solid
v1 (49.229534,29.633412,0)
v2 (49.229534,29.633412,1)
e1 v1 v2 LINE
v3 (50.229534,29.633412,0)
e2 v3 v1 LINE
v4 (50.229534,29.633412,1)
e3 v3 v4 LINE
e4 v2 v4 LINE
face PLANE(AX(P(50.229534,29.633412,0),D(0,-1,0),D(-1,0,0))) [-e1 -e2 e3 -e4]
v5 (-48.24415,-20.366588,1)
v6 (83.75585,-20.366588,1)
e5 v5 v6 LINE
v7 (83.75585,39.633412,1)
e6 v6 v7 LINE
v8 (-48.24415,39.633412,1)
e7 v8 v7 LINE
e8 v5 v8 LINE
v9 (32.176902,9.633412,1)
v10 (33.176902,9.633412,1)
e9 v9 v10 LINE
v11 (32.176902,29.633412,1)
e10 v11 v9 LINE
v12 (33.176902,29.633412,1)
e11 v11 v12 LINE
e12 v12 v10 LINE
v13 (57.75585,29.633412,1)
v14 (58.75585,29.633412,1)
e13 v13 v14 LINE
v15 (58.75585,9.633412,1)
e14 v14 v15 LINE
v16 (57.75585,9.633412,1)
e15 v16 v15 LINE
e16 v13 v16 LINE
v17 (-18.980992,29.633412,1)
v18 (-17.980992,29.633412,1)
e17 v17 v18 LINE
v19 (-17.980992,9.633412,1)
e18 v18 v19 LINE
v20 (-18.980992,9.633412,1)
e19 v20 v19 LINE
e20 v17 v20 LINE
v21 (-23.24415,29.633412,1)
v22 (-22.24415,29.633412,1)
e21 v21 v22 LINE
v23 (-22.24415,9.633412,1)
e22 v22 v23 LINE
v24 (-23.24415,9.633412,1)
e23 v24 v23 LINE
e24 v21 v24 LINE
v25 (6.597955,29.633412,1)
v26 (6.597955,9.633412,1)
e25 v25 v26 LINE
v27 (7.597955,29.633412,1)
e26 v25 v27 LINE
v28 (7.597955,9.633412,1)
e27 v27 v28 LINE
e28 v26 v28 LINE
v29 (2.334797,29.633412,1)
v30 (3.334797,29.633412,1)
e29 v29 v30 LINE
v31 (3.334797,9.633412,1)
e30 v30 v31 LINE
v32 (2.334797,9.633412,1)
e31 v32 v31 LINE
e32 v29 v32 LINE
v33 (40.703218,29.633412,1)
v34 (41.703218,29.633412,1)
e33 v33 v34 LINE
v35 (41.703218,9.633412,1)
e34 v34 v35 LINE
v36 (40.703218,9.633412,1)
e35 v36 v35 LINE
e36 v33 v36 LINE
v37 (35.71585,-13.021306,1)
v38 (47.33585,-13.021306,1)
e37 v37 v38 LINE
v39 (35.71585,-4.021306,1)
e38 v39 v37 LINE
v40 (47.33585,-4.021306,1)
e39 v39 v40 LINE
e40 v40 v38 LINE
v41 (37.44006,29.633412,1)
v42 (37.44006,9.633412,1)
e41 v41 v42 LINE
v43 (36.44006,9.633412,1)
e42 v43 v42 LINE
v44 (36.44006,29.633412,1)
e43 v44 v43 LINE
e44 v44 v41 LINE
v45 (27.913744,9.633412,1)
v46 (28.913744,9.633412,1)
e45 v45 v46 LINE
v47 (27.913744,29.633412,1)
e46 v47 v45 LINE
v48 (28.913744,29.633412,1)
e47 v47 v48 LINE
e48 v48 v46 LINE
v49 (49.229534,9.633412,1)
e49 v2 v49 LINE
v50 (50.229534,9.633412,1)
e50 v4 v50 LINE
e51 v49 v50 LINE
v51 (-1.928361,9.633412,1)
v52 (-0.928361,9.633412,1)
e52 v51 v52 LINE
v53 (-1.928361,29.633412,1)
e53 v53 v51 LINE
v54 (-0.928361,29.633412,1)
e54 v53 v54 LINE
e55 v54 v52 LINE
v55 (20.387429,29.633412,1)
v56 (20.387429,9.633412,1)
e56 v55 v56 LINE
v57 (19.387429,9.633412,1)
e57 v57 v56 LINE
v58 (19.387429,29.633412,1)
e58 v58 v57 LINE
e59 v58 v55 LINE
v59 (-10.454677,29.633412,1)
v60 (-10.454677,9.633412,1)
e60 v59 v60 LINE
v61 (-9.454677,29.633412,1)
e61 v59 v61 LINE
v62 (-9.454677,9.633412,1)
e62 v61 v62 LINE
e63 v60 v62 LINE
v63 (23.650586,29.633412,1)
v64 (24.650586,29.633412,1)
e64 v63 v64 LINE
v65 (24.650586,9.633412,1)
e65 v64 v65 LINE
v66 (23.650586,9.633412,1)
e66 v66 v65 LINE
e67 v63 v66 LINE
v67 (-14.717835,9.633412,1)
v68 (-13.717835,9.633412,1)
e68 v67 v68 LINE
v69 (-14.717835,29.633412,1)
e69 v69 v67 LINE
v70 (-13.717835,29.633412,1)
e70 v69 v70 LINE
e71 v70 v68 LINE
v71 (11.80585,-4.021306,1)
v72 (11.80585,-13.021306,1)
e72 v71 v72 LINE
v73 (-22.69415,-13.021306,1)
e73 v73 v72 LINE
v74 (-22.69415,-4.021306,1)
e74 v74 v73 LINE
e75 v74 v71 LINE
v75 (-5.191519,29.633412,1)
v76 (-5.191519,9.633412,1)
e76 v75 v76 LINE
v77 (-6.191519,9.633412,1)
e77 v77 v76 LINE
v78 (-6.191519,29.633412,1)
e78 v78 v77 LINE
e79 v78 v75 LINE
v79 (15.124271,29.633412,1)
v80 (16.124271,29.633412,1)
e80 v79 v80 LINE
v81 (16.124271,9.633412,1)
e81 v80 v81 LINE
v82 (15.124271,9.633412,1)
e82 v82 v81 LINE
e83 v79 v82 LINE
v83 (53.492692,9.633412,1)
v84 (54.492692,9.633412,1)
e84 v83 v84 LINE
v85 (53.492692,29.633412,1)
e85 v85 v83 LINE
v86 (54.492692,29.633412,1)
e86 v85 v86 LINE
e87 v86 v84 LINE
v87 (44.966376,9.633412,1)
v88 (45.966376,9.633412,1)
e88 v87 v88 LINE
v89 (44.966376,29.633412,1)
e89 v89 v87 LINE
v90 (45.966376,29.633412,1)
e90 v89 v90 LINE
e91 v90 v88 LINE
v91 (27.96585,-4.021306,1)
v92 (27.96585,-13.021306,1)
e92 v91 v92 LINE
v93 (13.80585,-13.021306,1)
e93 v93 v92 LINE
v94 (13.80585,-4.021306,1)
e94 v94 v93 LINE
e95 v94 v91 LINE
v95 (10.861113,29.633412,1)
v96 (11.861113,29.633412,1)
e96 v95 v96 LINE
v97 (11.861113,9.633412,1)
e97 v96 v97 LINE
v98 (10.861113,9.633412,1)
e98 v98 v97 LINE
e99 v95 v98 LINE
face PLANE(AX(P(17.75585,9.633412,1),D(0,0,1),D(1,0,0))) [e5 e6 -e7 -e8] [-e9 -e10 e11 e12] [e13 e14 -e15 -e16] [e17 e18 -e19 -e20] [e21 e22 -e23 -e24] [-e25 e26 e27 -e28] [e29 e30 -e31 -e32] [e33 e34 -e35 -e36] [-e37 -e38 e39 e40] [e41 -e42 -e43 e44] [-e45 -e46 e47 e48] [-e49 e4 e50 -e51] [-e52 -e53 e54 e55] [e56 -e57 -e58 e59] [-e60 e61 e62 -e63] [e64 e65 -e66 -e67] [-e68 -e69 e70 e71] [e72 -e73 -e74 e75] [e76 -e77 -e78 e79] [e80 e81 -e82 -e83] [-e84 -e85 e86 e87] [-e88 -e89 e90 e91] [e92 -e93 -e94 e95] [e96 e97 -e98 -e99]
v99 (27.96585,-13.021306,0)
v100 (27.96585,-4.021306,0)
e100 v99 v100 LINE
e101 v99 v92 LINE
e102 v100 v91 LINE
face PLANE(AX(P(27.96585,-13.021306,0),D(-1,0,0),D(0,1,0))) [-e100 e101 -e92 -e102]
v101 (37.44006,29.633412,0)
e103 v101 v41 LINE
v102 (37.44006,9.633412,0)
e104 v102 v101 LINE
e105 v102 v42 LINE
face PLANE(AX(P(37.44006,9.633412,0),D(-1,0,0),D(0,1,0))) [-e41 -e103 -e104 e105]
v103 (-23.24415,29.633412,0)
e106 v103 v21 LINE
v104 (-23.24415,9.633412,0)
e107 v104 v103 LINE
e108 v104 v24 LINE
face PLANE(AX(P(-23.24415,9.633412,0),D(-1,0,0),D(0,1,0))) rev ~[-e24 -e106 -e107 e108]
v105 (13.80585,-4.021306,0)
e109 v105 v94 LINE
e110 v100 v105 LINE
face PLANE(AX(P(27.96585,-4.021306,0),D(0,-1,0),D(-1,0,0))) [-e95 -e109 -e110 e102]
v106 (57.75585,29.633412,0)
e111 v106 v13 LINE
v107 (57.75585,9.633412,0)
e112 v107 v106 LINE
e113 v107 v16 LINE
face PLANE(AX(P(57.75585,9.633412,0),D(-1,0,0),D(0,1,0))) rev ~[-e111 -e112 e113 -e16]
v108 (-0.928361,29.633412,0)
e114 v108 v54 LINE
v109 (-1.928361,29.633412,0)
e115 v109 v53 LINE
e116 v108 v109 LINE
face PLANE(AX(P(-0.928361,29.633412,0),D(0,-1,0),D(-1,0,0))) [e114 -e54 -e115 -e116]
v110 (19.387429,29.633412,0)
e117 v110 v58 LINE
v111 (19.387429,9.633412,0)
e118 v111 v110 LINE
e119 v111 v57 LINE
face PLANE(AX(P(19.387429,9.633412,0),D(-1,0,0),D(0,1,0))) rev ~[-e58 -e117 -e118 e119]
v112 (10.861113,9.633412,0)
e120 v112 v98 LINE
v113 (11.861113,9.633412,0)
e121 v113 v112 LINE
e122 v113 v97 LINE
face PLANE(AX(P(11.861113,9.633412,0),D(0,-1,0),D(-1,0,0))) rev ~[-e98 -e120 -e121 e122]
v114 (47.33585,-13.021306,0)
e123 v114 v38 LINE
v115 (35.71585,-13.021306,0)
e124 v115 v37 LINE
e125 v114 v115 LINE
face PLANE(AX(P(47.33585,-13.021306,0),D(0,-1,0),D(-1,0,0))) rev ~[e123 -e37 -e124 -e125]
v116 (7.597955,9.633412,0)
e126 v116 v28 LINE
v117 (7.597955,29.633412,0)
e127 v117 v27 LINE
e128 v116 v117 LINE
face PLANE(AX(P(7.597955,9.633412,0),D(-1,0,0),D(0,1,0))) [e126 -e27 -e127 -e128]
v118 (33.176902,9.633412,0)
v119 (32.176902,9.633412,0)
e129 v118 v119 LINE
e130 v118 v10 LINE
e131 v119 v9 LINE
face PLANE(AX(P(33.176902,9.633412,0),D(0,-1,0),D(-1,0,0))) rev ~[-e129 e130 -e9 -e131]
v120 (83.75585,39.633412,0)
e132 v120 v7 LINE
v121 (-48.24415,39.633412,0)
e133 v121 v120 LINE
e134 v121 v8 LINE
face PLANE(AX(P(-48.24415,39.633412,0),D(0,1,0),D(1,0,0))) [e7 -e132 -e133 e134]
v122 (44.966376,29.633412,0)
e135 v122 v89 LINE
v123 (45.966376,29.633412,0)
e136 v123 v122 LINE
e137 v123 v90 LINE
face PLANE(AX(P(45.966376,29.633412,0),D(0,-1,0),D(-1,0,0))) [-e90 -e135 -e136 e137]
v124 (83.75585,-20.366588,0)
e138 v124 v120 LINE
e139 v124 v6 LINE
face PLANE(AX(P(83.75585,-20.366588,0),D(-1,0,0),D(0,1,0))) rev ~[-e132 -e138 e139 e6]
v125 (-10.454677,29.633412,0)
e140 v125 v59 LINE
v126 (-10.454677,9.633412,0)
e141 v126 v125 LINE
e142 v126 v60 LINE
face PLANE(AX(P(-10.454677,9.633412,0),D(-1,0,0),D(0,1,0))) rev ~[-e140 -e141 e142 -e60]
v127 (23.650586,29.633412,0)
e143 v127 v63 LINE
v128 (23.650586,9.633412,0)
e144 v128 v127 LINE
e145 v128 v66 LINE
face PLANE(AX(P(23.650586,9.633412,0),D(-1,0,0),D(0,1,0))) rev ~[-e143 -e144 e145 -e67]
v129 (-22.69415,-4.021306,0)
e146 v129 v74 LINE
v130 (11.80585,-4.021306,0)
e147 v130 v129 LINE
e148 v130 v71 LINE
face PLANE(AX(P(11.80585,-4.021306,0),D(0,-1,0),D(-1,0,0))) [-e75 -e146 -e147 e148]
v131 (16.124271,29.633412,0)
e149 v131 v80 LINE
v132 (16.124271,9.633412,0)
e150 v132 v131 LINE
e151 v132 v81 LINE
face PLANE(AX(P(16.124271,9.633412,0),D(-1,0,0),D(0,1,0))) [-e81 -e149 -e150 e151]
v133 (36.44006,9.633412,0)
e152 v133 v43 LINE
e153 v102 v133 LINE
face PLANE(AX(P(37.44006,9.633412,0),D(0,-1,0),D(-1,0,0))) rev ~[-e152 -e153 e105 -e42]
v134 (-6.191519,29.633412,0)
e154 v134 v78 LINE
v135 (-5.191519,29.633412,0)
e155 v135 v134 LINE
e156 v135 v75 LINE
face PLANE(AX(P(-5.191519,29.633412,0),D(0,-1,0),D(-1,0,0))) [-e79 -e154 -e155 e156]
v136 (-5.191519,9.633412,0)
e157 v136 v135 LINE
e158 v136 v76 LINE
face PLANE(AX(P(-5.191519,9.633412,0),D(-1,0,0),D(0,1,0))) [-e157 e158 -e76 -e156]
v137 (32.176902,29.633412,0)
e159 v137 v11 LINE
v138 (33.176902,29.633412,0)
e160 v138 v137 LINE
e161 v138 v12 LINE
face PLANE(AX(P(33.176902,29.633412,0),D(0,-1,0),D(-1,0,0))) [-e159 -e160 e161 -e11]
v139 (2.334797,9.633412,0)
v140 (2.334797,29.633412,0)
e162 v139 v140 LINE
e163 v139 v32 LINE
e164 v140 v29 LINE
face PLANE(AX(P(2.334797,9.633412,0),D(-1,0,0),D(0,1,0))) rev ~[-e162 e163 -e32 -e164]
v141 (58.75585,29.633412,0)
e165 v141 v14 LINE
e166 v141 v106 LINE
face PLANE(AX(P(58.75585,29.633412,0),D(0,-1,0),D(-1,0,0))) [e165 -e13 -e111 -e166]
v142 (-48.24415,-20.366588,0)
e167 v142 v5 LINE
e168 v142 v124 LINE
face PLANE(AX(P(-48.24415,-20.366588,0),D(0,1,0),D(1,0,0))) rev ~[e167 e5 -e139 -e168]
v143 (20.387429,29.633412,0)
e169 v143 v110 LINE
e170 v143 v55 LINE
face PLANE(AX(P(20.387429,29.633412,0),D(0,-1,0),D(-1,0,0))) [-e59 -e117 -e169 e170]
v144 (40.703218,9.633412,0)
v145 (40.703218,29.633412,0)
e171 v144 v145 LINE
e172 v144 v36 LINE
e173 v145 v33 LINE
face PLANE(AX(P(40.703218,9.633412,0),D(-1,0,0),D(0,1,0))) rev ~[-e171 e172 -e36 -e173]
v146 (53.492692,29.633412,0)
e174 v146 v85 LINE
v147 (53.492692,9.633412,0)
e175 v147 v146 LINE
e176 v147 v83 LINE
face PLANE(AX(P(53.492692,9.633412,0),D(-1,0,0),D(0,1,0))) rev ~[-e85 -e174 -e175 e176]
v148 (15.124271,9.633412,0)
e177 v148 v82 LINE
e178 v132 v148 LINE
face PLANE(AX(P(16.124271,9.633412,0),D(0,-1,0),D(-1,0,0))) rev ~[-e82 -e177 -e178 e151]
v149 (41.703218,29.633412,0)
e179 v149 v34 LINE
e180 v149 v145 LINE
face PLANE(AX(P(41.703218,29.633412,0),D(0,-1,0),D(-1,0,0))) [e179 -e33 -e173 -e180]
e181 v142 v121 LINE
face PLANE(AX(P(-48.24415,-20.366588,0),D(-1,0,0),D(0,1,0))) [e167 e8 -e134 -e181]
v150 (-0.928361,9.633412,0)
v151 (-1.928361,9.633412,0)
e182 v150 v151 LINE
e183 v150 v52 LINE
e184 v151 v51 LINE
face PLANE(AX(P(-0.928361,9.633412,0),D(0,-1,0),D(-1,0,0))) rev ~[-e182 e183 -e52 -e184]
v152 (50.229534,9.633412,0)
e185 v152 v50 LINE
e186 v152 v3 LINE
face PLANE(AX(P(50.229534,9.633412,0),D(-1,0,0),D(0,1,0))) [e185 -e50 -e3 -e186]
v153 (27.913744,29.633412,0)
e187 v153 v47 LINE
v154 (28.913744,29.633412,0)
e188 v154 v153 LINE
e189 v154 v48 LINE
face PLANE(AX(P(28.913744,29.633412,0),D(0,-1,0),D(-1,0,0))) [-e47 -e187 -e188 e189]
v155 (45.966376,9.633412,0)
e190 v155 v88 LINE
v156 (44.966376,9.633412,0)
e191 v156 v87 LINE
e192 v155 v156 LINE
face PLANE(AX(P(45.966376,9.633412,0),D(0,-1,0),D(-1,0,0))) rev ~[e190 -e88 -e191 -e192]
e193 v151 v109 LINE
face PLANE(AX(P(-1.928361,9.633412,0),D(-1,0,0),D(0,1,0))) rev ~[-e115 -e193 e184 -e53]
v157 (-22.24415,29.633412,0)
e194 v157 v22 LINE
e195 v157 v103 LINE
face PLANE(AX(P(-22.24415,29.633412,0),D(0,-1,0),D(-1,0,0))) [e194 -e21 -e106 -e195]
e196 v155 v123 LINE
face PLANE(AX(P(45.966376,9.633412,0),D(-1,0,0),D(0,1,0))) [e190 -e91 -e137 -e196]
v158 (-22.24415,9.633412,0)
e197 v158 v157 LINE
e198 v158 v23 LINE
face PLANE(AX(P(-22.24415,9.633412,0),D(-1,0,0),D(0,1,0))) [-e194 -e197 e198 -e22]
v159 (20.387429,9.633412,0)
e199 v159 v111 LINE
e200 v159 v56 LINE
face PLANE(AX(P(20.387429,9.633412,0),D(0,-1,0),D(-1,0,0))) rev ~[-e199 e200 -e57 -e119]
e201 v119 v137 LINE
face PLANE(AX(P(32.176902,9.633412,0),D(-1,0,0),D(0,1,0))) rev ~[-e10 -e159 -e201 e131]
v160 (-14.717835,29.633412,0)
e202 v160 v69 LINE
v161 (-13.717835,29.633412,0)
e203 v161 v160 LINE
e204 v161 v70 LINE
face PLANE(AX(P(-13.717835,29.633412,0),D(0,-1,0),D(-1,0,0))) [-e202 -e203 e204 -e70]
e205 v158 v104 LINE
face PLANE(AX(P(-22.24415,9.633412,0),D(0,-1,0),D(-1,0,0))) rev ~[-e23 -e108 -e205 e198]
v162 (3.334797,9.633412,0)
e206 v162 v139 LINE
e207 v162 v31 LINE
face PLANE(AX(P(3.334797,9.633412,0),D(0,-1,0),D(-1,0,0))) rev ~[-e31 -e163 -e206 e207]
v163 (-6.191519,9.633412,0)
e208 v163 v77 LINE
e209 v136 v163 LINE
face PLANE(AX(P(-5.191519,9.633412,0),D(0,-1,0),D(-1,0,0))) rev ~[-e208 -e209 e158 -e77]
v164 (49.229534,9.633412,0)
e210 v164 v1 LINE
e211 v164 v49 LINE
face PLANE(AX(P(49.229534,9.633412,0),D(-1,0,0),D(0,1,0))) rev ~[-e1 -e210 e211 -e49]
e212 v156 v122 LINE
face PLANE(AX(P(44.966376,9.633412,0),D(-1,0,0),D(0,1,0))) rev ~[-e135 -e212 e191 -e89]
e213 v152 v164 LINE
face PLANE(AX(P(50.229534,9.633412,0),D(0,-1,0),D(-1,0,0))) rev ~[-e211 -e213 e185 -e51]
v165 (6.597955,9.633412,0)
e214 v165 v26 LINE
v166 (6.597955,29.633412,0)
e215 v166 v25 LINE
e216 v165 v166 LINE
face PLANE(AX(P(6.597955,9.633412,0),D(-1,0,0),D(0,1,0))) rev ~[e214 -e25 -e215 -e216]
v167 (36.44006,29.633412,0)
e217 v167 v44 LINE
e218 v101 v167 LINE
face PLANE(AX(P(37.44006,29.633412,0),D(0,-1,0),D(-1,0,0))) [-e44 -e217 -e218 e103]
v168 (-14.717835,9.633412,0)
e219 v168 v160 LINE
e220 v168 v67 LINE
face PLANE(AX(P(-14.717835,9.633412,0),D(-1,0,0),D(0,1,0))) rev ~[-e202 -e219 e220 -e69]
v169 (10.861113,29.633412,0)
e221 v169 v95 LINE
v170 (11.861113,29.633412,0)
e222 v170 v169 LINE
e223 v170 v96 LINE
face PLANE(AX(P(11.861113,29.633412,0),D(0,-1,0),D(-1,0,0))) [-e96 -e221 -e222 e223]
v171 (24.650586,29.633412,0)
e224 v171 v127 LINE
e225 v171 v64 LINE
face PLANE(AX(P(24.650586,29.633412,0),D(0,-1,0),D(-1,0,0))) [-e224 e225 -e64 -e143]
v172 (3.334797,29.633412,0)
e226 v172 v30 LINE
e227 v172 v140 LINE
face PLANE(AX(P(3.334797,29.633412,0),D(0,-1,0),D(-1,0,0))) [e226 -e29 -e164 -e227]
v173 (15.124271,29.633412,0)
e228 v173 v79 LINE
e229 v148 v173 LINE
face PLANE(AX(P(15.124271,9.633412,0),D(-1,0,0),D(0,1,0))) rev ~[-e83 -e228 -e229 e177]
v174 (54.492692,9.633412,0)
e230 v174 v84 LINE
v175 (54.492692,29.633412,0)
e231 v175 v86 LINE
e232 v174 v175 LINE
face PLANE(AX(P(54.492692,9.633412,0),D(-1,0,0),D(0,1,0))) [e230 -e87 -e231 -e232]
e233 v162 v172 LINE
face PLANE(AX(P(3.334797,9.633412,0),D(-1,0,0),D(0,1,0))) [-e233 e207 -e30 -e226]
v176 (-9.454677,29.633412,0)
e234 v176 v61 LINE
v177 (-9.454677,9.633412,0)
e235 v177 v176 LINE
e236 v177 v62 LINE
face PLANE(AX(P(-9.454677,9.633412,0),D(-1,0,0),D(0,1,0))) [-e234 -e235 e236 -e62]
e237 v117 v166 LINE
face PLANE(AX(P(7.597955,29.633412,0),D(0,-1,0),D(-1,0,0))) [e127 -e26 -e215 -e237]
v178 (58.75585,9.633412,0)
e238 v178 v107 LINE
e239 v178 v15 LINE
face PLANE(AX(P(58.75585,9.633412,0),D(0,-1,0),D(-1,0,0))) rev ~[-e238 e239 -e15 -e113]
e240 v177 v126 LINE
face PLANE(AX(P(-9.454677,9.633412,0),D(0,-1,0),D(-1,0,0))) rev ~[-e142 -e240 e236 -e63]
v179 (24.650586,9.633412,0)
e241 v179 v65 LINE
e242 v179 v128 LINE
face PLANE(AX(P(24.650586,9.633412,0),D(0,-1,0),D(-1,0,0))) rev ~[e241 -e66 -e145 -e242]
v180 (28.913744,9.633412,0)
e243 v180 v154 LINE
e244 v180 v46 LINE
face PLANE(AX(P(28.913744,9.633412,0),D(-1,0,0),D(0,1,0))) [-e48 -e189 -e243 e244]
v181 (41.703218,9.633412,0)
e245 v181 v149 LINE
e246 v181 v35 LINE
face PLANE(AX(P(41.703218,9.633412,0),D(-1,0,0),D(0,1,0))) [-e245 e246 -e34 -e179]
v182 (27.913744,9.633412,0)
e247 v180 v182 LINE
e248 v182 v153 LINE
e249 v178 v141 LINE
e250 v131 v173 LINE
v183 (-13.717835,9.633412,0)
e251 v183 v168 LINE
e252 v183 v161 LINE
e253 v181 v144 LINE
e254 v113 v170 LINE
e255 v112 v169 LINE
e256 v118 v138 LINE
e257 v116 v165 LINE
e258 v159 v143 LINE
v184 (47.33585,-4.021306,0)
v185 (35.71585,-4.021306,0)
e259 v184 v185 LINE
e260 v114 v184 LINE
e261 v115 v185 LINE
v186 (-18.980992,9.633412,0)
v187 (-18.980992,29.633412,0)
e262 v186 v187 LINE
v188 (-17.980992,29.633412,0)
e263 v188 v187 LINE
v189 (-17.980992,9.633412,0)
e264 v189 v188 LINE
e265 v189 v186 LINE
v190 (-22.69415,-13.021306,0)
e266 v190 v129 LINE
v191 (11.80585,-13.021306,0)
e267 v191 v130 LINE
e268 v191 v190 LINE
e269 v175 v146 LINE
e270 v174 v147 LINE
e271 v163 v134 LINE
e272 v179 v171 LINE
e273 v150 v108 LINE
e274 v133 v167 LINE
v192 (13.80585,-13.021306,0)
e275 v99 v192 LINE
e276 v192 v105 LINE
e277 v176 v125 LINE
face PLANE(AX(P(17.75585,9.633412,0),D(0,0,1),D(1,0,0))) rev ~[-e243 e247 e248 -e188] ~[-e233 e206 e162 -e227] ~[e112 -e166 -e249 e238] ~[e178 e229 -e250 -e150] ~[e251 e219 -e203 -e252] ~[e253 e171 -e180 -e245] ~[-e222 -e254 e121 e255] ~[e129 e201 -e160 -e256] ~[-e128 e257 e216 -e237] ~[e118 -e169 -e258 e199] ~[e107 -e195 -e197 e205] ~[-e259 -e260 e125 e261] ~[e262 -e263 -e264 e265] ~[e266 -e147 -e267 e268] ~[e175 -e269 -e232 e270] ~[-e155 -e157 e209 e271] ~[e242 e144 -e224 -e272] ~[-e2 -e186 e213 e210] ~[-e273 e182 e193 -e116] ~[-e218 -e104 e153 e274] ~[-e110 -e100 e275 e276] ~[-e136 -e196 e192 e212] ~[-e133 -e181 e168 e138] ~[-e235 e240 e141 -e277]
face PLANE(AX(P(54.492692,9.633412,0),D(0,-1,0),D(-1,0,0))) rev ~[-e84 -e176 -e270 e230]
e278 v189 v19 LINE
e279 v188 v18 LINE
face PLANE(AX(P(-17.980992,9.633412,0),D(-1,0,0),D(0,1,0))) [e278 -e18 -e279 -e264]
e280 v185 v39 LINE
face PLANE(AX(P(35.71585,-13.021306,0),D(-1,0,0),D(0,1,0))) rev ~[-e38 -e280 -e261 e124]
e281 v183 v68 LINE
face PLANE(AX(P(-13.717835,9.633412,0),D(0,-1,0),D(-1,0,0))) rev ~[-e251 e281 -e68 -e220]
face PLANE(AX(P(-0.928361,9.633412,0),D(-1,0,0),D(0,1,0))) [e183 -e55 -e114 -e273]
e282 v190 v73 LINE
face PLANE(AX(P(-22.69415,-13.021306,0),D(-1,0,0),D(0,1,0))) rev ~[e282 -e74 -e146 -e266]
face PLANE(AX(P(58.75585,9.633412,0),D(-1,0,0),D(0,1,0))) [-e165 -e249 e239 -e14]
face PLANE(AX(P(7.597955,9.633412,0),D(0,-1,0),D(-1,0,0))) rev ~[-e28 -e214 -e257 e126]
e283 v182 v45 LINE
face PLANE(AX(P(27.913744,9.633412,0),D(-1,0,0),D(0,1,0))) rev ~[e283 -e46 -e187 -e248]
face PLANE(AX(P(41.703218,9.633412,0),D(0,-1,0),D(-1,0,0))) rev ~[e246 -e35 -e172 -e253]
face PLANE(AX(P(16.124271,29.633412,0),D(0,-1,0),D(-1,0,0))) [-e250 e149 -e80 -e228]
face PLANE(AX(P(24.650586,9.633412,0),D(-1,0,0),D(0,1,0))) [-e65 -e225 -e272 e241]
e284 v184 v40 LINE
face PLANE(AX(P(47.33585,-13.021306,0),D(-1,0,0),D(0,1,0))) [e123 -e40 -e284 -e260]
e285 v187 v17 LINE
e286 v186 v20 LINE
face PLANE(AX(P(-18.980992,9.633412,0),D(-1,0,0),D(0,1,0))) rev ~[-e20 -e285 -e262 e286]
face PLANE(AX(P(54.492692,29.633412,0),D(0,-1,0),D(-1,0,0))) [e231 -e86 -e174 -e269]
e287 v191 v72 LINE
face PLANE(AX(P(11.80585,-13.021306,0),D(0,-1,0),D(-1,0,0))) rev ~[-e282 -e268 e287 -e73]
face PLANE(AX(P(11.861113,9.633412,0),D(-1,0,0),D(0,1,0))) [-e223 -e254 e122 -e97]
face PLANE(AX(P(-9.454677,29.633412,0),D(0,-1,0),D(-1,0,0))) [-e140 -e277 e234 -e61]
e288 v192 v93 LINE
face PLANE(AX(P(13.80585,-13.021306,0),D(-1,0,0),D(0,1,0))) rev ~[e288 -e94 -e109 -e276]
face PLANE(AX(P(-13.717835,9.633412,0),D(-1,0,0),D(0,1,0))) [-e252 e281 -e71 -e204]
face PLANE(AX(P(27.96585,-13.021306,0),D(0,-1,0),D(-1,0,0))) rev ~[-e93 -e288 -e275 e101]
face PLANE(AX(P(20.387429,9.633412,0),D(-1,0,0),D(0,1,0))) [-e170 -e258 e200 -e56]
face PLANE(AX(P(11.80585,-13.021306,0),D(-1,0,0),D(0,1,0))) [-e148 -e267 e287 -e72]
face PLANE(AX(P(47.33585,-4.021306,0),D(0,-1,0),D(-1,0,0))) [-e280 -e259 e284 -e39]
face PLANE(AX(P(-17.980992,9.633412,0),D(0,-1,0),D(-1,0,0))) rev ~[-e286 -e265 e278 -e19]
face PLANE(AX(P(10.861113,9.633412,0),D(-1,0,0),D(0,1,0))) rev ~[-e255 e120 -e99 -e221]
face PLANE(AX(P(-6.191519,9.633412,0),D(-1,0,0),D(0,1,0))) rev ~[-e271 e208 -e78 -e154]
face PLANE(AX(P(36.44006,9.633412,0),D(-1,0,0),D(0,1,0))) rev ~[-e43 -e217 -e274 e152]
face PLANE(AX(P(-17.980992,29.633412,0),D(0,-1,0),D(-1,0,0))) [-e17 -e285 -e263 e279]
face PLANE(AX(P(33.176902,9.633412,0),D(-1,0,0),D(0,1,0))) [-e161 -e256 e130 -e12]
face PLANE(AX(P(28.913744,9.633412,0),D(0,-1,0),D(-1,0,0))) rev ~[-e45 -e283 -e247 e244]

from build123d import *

# Parameters (mm, degrees)
SKETCH1_W           = 132
SKETCH1_H           = 60
BOSS_EXTRUDE1_DEPTH = 1
SKETCH4_W           = 11.62
SKETCH4_H           = 9
SKETCH4_W_2         = 14.16
SKETCH4_W_3         = 34.5
CUT_EXTRUDE3_DEPTH  = 2
SKETCH11_W          = 1
SKETCH11_H          = 20
CUT_EXTRUDE6_DEPTH  = 2


with BuildPart() as part:
    # Sketch1 → Boss-Extrude1 (new body)
    with BuildSketch(Plane.XY):
        with Locations((17.755849622, 9.633412311)):
            Rectangle(SKETCH1_W, SKETCH1_H)
    extrude(amount=BOSS_EXTRUDE1_DEPTH)

    # Sketch4 → Cut-Extrude3 (cut, through all)
    with BuildSketch(Plane(origin=(0, 0, 0), x_dir=(-1, 0, 0), z_dir=(0, 0, -1))):
        with Locations((-41.525849622, -8.521305626)):
            Rectangle(SKETCH4_W, SKETCH4_H)
        with Locations((-20.885849622, -8.521305626)):
            Rectangle(SKETCH4_W_2, SKETCH4_H)
        with Locations((5.444150378, -8.521305626)):
            Rectangle(SKETCH4_W_3, SKETCH4_H)
    extrude(amount=-CUT_EXTRUDE3_DEPTH, mode=Mode.SUBTRACT)

    # Sketch11 → Cut-Extrude6 (cut, through all)
    with BuildSketch(Plane(origin=(0, 0, 0), x_dir=(-1, 0, 0), z_dir=(0, 0, -1))):
        with Locations((-53.992691727, 19.633412311)):
            Rectangle(SKETCH11_W, SKETCH11_H)
        with Locations((-58.255849622, 19.633412311)):
            Rectangle(SKETCH11_W, SKETCH11_H)
        with Locations((-49.729533832, 19.633412311)):
            Rectangle(SKETCH11_W, SKETCH11_H)
        with Locations((-45.466375937, 19.633412311)):
            Rectangle(SKETCH11_W, SKETCH11_H)
        with Locations((-41.203218043, 19.633412311)):
            Rectangle(SKETCH11_W, SKETCH11_H)
        with Locations((-36.940060148, 19.633412311)):
            Rectangle(SKETCH11_W, SKETCH11_H)
        with Locations((-32.676902253, 19.633412311)):
            Rectangle(SKETCH11_W, SKETCH11_H)
        with Locations((-28.413744358, 19.633412311)):
            Rectangle(SKETCH11_W, SKETCH11_H)
        with Locations((-24.150586464, 19.633412311)):
            Rectangle(SKETCH11_W, SKETCH11_H)
        with Locations((-19.887428569, 19.633412311)):
            Rectangle(SKETCH11_W, SKETCH11_H)
        with Locations((-15.624270674, 19.633412311)):
            Rectangle(SKETCH11_W, SKETCH11_H)
        with Locations((-11.36111278, 19.633412311)):
            Rectangle(SKETCH11_W, SKETCH11_H)
        with Locations((-7.097954885, 19.633412311)):
            Rectangle(SKETCH11_W, SKETCH11_H)
        with Locations((-2.83479699, 19.633412311)):
            Rectangle(SKETCH11_W, SKETCH11_H)
        with Locations((1.428360905, 19.633412311)):
            Rectangle(SKETCH11_W, SKETCH11_H)
        with Locations((5.691518799, 19.633412311)):
            Rectangle(SKETCH11_W, SKETCH11_H)
        with Locations((9.954676694, 19.633412311)):
            Rectangle(SKETCH11_W, SKETCH11_H)
        with Locations((14.217834589, 19.633412311)):
            Rectangle(SKETCH11_W, SKETCH11_H)
        with Locations((18.480992484, 19.633412311)):
            Rectangle(SKETCH11_W, SKETCH11_H)
        with Locations((22.744150378, 19.633412311)):
            Rectangle(SKETCH11_W, SKETCH11_H)
    extrude(amount=-CUT_EXTRUDE6_DEPTH, mode=Mode.SUBTRACT)


solid = part.part
